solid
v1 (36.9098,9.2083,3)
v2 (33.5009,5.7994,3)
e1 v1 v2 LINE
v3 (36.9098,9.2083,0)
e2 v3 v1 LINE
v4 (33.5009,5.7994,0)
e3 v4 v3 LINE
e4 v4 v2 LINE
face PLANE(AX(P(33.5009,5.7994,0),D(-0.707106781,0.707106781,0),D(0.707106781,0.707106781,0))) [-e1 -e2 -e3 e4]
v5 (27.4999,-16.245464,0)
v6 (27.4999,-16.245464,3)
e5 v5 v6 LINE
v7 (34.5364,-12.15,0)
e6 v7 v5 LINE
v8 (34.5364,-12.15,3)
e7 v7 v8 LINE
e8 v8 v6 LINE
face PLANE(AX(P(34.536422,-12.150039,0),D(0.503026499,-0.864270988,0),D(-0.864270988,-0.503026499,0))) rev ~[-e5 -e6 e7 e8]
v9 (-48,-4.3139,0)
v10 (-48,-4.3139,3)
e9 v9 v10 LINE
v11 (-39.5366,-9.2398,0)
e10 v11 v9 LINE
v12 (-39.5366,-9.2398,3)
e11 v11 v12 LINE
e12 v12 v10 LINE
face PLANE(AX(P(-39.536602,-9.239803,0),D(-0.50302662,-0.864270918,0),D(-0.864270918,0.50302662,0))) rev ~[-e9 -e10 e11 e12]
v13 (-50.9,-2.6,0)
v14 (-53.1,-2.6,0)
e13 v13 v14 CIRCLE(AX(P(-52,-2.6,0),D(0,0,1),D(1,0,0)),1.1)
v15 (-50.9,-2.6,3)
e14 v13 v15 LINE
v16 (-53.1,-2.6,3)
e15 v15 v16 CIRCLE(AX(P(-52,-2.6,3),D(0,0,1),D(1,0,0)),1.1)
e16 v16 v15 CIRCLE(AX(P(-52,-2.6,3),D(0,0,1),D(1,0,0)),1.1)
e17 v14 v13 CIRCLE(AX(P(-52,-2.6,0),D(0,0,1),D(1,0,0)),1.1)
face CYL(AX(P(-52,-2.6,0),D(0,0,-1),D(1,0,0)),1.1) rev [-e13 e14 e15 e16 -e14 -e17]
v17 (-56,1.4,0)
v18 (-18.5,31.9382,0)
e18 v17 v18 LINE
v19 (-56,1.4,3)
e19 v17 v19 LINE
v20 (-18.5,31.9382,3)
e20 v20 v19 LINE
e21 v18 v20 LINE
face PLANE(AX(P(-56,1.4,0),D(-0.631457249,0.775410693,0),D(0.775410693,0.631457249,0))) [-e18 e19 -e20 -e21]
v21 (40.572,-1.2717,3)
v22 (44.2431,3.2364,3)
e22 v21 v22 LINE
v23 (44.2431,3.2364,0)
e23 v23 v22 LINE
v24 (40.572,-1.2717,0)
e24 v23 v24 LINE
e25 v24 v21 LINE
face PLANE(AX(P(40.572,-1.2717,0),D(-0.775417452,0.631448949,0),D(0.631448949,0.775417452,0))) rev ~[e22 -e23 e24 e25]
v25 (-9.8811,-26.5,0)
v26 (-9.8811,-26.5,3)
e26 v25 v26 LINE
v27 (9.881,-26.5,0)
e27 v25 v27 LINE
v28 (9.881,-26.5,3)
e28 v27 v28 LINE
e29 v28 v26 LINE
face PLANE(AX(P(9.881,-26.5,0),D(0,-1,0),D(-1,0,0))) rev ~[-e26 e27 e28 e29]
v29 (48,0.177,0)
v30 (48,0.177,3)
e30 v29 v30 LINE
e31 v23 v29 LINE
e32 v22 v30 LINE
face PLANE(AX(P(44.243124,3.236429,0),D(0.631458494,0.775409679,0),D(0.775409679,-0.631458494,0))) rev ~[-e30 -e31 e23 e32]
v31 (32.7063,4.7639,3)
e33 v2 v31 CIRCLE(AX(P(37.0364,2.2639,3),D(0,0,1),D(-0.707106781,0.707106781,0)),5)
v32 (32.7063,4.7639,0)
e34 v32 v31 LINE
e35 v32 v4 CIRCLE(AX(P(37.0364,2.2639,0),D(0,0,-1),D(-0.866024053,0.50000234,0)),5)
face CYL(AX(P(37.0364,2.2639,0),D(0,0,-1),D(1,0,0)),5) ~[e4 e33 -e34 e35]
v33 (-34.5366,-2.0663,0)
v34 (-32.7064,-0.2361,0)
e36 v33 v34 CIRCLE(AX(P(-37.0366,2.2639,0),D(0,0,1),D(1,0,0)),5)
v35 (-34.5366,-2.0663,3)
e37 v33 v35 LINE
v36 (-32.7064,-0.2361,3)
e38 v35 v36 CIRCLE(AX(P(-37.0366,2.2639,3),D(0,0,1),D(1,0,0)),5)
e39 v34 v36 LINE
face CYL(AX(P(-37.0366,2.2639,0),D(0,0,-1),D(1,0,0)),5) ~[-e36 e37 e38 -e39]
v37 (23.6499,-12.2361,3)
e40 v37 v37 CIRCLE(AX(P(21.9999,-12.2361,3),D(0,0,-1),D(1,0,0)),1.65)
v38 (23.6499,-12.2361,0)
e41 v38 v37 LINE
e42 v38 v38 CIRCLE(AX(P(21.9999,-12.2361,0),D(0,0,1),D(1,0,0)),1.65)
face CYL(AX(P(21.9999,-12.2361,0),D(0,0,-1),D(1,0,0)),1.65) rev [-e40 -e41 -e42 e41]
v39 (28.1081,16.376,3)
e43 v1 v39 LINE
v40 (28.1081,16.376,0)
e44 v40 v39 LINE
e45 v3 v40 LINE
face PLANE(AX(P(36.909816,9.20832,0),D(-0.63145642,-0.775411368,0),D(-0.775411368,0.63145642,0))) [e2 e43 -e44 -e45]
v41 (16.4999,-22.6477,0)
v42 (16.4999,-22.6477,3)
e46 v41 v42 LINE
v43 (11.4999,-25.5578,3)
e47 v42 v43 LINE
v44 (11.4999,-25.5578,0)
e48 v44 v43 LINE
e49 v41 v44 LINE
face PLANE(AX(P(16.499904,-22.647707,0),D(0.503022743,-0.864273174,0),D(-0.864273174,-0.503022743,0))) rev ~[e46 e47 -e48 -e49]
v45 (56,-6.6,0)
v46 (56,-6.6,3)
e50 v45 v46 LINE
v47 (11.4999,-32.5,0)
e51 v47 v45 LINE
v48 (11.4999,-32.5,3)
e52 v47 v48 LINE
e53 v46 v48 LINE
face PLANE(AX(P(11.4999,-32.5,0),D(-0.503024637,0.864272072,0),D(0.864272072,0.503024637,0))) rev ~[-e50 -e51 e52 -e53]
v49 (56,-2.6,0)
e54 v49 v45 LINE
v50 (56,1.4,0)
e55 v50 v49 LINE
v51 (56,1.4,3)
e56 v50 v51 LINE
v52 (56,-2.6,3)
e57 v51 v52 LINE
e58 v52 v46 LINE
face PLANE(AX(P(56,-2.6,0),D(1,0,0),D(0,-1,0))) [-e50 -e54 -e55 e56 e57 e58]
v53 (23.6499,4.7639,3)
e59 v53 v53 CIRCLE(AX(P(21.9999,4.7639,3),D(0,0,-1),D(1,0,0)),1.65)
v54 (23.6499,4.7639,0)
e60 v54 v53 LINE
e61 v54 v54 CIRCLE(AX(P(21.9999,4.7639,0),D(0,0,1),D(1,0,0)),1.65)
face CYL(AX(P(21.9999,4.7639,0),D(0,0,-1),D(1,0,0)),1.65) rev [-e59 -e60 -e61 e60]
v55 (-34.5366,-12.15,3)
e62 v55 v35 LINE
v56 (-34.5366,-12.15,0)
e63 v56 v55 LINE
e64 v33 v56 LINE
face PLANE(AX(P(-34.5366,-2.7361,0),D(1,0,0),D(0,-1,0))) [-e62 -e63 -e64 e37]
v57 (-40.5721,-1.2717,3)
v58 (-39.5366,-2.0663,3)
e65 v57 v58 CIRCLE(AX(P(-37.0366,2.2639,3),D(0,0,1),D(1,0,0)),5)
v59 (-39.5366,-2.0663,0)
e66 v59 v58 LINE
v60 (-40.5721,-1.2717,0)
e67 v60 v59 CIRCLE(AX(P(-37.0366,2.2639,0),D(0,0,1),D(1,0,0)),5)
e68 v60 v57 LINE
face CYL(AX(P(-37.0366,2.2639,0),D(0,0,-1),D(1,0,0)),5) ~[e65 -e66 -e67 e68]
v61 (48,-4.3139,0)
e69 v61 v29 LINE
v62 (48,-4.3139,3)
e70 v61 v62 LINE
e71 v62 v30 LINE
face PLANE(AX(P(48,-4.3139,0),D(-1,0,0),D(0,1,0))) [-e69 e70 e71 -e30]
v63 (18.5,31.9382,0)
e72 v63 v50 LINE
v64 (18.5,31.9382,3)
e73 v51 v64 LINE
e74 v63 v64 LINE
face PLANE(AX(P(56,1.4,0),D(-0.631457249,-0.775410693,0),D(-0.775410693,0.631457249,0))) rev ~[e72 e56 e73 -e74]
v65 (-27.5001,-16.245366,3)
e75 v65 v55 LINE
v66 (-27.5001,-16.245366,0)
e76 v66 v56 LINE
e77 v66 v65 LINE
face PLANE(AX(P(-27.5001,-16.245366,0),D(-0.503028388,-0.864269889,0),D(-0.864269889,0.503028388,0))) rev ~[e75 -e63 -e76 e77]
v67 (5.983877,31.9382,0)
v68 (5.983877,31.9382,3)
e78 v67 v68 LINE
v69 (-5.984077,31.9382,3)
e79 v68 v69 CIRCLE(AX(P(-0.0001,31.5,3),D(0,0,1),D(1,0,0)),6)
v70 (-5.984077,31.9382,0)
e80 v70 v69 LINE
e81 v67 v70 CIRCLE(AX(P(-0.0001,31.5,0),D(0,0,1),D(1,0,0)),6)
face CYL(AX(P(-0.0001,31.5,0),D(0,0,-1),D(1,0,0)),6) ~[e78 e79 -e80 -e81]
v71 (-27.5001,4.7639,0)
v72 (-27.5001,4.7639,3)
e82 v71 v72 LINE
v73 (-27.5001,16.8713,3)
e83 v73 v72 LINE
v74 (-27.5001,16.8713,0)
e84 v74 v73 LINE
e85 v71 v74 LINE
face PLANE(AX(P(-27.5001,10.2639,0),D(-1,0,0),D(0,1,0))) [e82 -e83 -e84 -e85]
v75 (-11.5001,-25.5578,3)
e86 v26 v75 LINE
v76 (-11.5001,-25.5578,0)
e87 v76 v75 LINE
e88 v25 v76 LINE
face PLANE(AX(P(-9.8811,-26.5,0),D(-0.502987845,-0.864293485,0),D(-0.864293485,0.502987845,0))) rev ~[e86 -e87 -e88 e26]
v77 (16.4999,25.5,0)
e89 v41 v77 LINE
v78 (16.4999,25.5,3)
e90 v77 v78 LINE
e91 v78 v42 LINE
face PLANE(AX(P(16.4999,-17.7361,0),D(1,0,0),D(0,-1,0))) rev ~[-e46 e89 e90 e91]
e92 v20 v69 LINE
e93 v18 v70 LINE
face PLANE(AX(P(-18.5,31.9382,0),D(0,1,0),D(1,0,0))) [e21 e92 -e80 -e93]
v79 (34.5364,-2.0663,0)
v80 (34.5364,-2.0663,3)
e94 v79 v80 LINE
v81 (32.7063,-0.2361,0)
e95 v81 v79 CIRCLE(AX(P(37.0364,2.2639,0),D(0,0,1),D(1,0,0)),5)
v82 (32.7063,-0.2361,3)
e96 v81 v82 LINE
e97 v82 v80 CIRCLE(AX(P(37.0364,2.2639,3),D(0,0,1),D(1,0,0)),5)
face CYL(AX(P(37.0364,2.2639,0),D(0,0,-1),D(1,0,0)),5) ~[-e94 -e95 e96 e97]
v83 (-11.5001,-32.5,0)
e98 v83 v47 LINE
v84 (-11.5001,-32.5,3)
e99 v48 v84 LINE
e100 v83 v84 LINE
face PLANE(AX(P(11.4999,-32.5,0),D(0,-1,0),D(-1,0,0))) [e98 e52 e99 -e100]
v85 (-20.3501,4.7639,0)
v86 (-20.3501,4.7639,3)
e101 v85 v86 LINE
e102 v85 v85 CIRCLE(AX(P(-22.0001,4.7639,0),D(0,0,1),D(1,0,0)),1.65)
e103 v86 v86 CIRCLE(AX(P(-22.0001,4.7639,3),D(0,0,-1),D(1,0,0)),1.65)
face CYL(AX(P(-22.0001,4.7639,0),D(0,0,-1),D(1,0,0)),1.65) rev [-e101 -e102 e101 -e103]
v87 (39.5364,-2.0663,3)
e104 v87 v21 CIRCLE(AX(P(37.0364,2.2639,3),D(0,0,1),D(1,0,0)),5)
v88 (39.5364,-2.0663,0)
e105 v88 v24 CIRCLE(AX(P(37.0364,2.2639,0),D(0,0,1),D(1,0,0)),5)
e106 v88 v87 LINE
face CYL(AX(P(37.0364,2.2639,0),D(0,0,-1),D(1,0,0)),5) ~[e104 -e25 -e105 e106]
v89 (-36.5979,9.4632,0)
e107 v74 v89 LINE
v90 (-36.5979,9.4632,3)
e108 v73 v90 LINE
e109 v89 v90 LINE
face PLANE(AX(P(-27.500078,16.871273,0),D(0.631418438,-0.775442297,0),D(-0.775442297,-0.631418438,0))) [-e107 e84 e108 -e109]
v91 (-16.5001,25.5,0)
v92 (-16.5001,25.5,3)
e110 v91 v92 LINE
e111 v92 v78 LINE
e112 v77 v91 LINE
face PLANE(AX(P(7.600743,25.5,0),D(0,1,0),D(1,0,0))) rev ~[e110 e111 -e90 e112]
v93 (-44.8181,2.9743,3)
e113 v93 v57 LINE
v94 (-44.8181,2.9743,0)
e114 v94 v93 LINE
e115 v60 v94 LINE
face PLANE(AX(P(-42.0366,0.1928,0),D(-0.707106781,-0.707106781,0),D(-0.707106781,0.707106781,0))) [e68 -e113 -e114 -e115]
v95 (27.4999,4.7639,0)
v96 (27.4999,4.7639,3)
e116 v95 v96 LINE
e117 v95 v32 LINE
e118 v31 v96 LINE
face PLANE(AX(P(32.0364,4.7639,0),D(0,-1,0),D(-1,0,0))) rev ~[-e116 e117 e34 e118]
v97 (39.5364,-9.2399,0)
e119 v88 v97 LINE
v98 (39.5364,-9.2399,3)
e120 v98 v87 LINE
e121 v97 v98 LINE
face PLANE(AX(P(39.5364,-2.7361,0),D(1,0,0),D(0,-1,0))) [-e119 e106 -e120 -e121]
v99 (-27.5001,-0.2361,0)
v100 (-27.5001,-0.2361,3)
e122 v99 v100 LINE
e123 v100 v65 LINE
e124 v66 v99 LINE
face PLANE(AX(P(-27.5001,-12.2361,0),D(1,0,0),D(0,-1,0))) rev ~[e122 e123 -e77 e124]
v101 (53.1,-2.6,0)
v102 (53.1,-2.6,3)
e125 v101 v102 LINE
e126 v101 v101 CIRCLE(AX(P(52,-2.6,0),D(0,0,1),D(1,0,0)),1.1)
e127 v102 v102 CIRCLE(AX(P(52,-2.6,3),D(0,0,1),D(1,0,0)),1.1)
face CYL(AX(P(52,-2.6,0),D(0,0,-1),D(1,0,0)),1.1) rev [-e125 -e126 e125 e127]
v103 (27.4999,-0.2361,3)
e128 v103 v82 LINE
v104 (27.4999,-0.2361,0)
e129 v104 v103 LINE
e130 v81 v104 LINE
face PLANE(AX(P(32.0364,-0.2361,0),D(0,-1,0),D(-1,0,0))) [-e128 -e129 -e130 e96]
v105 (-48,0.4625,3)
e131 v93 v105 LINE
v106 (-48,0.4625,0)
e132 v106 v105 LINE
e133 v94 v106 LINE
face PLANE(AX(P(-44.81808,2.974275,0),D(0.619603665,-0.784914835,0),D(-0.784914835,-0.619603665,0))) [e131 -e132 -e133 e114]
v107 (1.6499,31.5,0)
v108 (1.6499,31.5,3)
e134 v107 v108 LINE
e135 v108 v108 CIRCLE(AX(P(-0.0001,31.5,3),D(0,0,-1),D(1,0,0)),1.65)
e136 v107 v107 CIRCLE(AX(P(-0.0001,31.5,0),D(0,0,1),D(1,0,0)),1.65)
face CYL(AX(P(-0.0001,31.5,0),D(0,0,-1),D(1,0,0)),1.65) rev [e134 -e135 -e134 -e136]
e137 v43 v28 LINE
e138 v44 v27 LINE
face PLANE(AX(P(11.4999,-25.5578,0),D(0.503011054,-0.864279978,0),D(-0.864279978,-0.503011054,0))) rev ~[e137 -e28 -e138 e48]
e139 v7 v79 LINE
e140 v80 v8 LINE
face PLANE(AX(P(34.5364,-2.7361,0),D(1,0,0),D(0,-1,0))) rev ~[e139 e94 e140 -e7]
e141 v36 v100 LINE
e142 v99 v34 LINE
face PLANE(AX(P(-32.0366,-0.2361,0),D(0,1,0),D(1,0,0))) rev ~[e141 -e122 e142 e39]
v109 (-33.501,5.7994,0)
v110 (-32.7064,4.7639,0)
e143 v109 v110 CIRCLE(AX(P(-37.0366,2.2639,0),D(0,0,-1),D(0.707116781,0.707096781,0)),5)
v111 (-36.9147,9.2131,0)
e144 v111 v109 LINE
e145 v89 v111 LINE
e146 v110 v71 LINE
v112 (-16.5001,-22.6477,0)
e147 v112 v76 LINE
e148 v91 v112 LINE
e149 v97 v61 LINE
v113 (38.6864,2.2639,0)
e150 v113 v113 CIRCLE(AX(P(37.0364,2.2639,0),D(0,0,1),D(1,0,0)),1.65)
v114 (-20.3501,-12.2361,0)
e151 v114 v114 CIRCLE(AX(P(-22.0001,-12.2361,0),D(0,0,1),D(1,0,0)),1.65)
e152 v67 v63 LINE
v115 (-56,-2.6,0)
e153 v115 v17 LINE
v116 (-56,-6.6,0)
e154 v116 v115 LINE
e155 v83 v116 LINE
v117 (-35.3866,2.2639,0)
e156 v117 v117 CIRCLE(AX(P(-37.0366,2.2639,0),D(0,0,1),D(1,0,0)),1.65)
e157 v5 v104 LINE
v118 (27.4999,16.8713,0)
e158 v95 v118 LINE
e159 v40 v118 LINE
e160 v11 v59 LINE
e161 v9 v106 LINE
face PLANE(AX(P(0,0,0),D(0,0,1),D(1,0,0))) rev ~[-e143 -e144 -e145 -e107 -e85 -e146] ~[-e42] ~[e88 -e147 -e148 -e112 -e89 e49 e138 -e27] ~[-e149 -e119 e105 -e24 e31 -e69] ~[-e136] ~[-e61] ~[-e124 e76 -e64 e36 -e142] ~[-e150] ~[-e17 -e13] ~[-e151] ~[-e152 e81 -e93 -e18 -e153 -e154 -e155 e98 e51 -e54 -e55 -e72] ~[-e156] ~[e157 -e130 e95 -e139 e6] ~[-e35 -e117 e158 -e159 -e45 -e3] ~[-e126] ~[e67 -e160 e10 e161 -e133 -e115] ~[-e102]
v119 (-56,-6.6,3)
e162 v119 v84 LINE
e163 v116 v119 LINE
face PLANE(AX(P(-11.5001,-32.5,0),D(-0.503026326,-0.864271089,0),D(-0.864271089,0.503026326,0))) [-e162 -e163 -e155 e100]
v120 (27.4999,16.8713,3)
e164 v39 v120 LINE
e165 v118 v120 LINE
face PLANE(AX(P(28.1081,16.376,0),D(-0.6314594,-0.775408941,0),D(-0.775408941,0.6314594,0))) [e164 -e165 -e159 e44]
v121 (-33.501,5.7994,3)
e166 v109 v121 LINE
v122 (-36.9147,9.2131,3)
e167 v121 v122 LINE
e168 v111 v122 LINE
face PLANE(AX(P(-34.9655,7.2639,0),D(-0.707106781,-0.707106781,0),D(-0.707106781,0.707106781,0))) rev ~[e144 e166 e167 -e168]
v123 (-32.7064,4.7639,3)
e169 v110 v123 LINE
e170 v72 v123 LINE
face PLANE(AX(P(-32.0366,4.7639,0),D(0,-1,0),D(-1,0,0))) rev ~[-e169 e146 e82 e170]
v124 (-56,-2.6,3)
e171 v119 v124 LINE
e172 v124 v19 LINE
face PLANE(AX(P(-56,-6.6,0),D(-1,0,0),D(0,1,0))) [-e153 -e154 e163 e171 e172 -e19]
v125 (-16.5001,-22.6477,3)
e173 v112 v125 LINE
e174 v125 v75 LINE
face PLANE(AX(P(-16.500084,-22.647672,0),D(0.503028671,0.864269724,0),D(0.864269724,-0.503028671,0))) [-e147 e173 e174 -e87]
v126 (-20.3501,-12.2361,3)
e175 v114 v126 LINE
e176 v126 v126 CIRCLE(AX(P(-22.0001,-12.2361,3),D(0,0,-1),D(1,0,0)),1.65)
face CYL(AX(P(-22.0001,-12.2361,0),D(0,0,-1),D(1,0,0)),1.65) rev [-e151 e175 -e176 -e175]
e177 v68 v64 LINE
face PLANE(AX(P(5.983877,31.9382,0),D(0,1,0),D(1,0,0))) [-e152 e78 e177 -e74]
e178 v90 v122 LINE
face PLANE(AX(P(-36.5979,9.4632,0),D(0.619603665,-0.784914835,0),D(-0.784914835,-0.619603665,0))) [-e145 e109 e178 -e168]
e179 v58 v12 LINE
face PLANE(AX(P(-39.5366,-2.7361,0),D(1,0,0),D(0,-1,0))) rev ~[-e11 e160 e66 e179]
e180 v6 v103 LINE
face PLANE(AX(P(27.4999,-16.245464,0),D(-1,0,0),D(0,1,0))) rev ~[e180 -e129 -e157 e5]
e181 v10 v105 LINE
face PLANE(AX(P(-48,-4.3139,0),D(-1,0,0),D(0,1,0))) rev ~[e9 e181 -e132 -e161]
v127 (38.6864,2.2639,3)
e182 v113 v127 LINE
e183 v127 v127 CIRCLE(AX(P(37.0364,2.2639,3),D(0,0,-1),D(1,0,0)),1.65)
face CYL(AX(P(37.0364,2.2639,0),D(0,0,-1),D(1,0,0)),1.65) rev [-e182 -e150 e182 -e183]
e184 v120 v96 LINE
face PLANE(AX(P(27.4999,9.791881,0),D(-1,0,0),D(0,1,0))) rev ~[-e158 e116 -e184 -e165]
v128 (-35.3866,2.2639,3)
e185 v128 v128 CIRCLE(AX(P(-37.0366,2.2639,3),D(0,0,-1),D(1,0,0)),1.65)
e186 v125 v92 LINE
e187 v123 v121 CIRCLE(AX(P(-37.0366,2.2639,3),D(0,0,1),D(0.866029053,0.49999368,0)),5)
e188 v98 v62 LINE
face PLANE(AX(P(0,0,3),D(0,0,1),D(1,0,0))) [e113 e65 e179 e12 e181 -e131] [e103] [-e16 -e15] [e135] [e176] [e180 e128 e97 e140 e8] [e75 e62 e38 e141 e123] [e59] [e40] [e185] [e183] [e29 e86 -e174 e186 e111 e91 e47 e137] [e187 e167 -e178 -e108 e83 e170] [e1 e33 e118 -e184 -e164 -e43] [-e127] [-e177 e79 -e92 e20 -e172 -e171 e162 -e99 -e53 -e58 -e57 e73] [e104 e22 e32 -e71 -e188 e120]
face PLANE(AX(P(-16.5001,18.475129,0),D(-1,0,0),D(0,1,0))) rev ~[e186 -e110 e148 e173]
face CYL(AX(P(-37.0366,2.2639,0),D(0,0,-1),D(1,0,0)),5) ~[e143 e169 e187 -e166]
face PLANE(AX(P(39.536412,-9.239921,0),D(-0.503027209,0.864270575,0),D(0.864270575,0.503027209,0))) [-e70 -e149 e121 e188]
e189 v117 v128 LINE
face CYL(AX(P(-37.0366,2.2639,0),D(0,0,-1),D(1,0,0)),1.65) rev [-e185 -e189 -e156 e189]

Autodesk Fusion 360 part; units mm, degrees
sketch "Sketch1" plane through (0, 0, 0) normal (0, 0, 1) x (1, 0, 0)
  line L0 (-0.0001, 25.5) -> (-0.0001, 31.5)
  circle A0 centre (-0.0001, 31.5) radius 1.65
  circle A1 centre (-0.0001, 31.5) radius 6
  line L1 (37.0364, 2.2639) -> (-37.0366, 2.2639)
  circle A2 centre (37.0364, 2.2639) radius 1.65
  circle A3 centre (-37.0366, 2.2639) radius 1.65
  line L2 (-0.0001, 31.5) -> (37.0364, 2.2639)
  line L3 (-0.0001, 31.5) -> (-37.0366, 2.2639)
  line L4 (56, 1.4) -> (56, -6.6)
  line L5 (-56, -6.6) -> (-56, 1.4)
  line L6 (-18.5, 31.9382) -> (18.5, 31.9382)
  line L7 (11.4999, -32.5) -> (-11.5001, -32.5)
  line L8 (-11.5001, -32.5) -> (-56, -6.6)
  line L9 (11.4999, -32.5) -> (56, -6.6)
  line L10 (56, -2.6) -> (52, -2.6)
  circle A4 centre (52, -2.6) radius 1.1
  line L11 (-56, -2.6) -> (-52, -2.6)
  circle A5 centre (-52, -2.6) radius 1.1
  line L12 (-22.0001, 4.7639) -> (-22.0001, 2.2639)
  line L13 (-0.0001, 2.2639) -> (-22.0001, 2.2639)
  line L14 (-22.0001, 2.2639) -> (-22.0001, 4.7639)
  line L15 (-22.0001, 4.7639) -> (-0.0001, 4.7639)
  line L16 (-0.0001, 4.7639) -> (-0.0001, 2.2639)
  line L17 (-0.0001, 4.7639) -> (21.9999, 4.7639)
  line L18 (21.9999, 4.7639) -> (21.9999, 2.2639)
  line L19 (21.9999, 2.2639) -> (-0.0001, 2.2639)
  line L20 (-0.0001, 2.2639) -> (-0.0001, 4.7639)
  circle A6 centre (-22.0001, 4.7639) radius 1.65
  circle A7 centre (21.9999, 4.7639) radius 1.65
  line L21 (21.9999, 4.7639) -> (21.9999, -12.2361)
  line L22 (-22.0001, 4.7639) -> (-22.0001, -12.2361)
  circle A8 centre (21.9999, -12.2361) radius 1.65
  circle A9 centre (-22.0001, -12.2361) radius 1.65
  circle A10 centre (-22.0001, -12.2361) radius 5.5
  circle A11 centre (-22.0001, 4.7639) radius 5.5
  line L23 (-27.5001, -17.7361) -> (-16.5001, -17.7361)
  line L24 (-16.5001, -17.7361) -> (-16.5001, 10.2639)
  line L25 (-16.5001, 10.2639) -> (-27.5001, 10.2639)
  line L26 (-27.5001, 10.2639) -> (-27.5001, -17.7361)
  line L27 (27.4999, -17.7361) -> (27.4999, 10.2639)
  line L28 (27.4999, 10.2639) -> (16.4999, 10.2639)
  line L29 (16.4999, 10.2639) -> (16.4999, -17.7361)
  line L30 (16.4999, -17.7361) -> (27.4999, -17.7361)
  line L31 (56, -6.6) -> (48, -6.6)
  line L32 (48, -6.6) -> (48, 1.4)
  line L33 (48, 1.4) -> (56, 1.4)
  line L34 (56, 1.4) -> (56, -6.6)
  line L35 (-56, -6.6) -> (-48, -6.6)
  line L36 (-48, -6.6) -> (-48, 1.4)
  line L37 (-48, 1.4) -> (-56, 1.4)
  line L38 (-56, 1.4) -> (-56, -6.6)
  line L39 (-20.5229, -27.2485) -> (-17.5048, -22.0629)
  line L40 (-40.4384, -15.6572) -> (-37.4202, -10.4716)
  line L41 (-17.5048, -22.0629) -> (-37.4202, -10.4716)
  line L42 (-37.4202, -10.4716) -> (-48, -4.3139)
  line L43 (-17.5048, -22.0629) -> (-11.5001, -25.5578)
  line L44 (22.8887, -25.8715) -> (19.8706, -20.6859)
  line L45 (39.4309, -16.2436) -> (36.4127, -11.058)
  line L46 (36.4127, -11.058) -> (19.8706, -20.6859)
  line L47 (36.4127, -11.058) -> (48, -4.3139)
  line L48 (19.8706, -20.6859) -> (11.4999, -25.5578)
  line L49 (56, 1.4) -> (18.5, 31.9382)
  line L50 (45.76, 9.7389) -> (41.9713, 5.0865)
  line L51 (31.8969, 21.0284) -> (28.1081, 16.376)
  line L52 (41.9713, 5.0865) -> (28.1081, 16.376)
  line L53 (28.1081, 16.376) -> (15.6762, 26.5)
  line L54 (41.9713, 5.0865) -> (48, 0.177)
  circle A12 centre (37.0364, 2.2639) radius 5
  line L55 (32.0364, -2.7361) -> (42.0364, -2.7361)
  line L56 (42.0364, -2.7361) -> (42.0364, 7.2639)
  line L57 (42.0364, 7.2639) -> (32.0364, 7.2639)
  line L58 (32.0364, 7.2639) -> (32.0364, -2.7361)
  line L59 (42.0364, -2.7361) -> (37.0364, 2.2639)
  line L60 (32.0364, 7.2639) -> (37.0364, 2.2639)
  line L61 (40.572, -1.2717) -> (44.2431, 3.2364)
  line L62 (33.5009, 5.7994) -> (36.9098, 9.2083)
  line L63 (-56, 1.4) -> (-18.5, 31.9382)
  line L64 (-30.0227, 22.5547) -> (-26.234, 17.9022)
  line L65 (-40.3156, 14.1727) -> (-36.5979, 9.4632)
  line L66 (-26.234, 17.9022) -> (-36.5979, 9.4632)
  line L67 (-36.5979, 9.4632) -> (-48, 0.4625)
  line L68 (-26.234, 17.9022) -> (-15.6762, 26.5)
  line L69 (7.8699, -32.5) -> (7.8699, -26.5)
  line L70 (-4.112, -32.5) -> (-4.112, -26.5)
  line L71 (7.8699, -26.5) -> (-4.112, -26.5)
  line L72 (11.4999, -25.5578) -> (9.881, -26.5)
  line L73 (9.881, -26.5) -> (7.8699, -26.5)
  line L74 (-4.112, -26.5) -> (-9.8811, -26.5)
  line L75 (-9.8811, -26.5) -> (-11.5001, -25.5578)
  line L76 (16.4999, -17.7361) -> (16.4999, -22.6477)
  line L77 (-16.5001, -17.7361) -> (-16.5001, -22.6477)
  line L78 (27.4999, 10.2639) -> (27.4999, 16.8713)
  line L79 (-27.5001, 10.2639) -> (-27.5001, 16.8713)
  line L80 (-0.0001, 25.5) -> (16.9042, 25.5)
  line L81 (16.4999, 10.2639) -> (16.4999, 25.5)
  line L82 (-0.0001, 25.5) -> (-16.9042, 25.5)
  line L83 (-16.5001, 10.2639) -> (-16.5001, 25.5)
  line L84 (-42.0366, 7.2639) -> (-37.0366, 7.2639)
  line L85 (-37.0366, 7.2639) -> (-37.0366, 2.2639)
  line L86 (-32.0366, -2.7361) -> (-42.0366, -2.7361)
  line L87 (-42.0366, -2.7361) -> (-42.0366, 7.2639)
  line L88 (-42.0366, 7.2639) -> (-32.0366, 7.2639)
  line L89 (-32.0366, 7.2639) -> (-32.0366, -2.7361)
  line L90 (-32.0366, 7.2639) -> (-42.0366, -2.7361)
  circle A13 centre (-37.0366, 2.2639) radius 5
  line L91 (-33.501, 5.7994) -> (-36.9147, 9.2131)
  line L92 (-40.5721, -1.2717) -> (-44.8181, 2.9743)
  line L93 (37.0364, -2.7361) -> (34.5364, -2.7361)
  line L94 (37.0364, -2.7361) -> (39.5364, -2.7361)
  line L95 (39.5364, -2.7361) -> (39.5364, -9.2399)
  line L96 (39.5364, -2.7361) -> (39.5364, -2.0663)
  line L97 (34.5364, -2.7361) -> (34.5364, -2.0663)
  line L98 (34.5364, -2.7361) -> (34.5364, -12.15)
  line L99 (32.0364, 2.2639) -> (32.0364, 4.7639)
  line L100 (32.0364, 4.7639) -> (27.4999, 4.7639)
  line L101 (32.0364, 2.2639) -> (32.0364, -0.2361)
  line L102 (32.0364, -0.2361) -> (27.4999, -0.2361)
  line L103 (32.0364, -0.2361) -> (32.7063, -0.2361)
  line L104 (32.0364, 4.7639) -> (32.7063, 4.7639)
  line L105 (-32.0366, -0.2361) -> (-27.5001, -0.2361)
  line L106 (-32.0366, 4.7639) -> (-27.5001, 4.7639)
  line L107 (-32.0366, 4.7639) -> (-32.7064, 4.7639)
  line L108 (-32.0366, -0.2361) -> (-32.7064, -0.2361)
  line L109 (-37.0366, -2.7361) -> (-39.5366, -2.7361)
  line L110 (-37.0366, -2.7361) -> (-34.5366, -2.7361)
  line L111 (-34.5366, -2.7361) -> (-34.5366, -12.15)
  line L112 (-39.5366, -2.7361) -> (-39.5366, -9.2398)
  line L113 (23.6499, -12.2361) -> (20.3499, -12.2361)
  line L114 (20.3499, -12.2361) -> (20.3499, 4.7639)
  line L115 (20.3499, 4.7639) -> (23.6499, 4.7639)
  line L116 (23.6499, 4.7639) -> (23.6499, -12.2361)
  line L117 (-20.3501, -12.2361) -> (-23.6501, -12.2361)
  line L118 (-23.6501, -12.2361) -> (-23.6501, 4.7639)
  line L119 (-23.6501, 4.7639) -> (-20.3501, 4.7639)
  line L120 (-20.3501, 4.7639) -> (-20.3501, -12.2361)
  line L121 (-34.5366, -2.7361) -> (-34.5366, -2.0663)
  line L122 (-39.5366, -2.7361) -> (-39.5366, -2.0663)
  dimension "d3" = 6
  dimension "d4" = 3.3
  dimension "d5" = 12
  dimension "d20" = 3.3
  dimension "d21" = 3.3
  dimension "d24" = 112
  dimension "d25" = 8
  dimension "d26" = 37
  dimension "d30" = 2.2
  dimension "d31" = 4
  dimension "d32" = 4
  dimension "d33" = 2.2
  dimension "d36" = 22
  dimension "d37" = 2.5
  dimension "d38" = 22
  dimension "d39" = 2.5
  dimension "d41" = 3.3
  dimension "d42" = 3.3
  dimension "d58" = 17
  dimension "d59" = 17
  dimension "d60" = 3.3
  dimension "d61" = 3.3
  dimension "d62" = 11
  dimension "d63" = 11
  dimension "d64" = 8
  dimension "d65" = 8
  dimension "d66" = 6
  dimension "d67" = 6
  dimension "d68" = 6
  dimension "d69" = 6
  dimension "d70" = 6
  dimension "d71" = 6
  dimension "d72" = 10
  dimension "d73" = 6
  dimension "d74" = 6
  dimension "d75" = 6
  dimension "d76" = 6
  dimension "d79" = 5
  dimension "d82" = 10
  dimension "d83" = 2.5
  dimension "d84" = 2.5
  dimension "d85" = 2.5
  dimension "d86" = 2.5
  dimension "d87" = 2.5
  dimension "d88" = 2.5
sketch "Sketch1 (2)" plane through (0, 0, 0) normal (0, 0, 1) x (1, 0, 0) in component "carBodyServoPlate"
  line L0 (11.4999, -32.5) -> (-11.5001, -32.5)
  line L1 (-32.0366, -0.2361) -> (-27.5001, -0.2361)
  line L2 (-26.234, 17.9022) -> (-15.6762, 26.5)
  line L3 (-37.0366, 7.2639) -> (-37.0366, 2.2639)
  line L4 (-48, 1.4) -> (-56, 1.4)
  line L5 (-22.0001, 2.2639) -> (-22.0001, 4.7639)
  line L6 (-40.3156, 14.1727) -> (-36.5979, 9.4632)
  circle A0 centre (-22.0001, 4.7639) radius 1.65
  line L7 (-0.0001, 25.5) -> (-16.9042, 25.5)
  line L8 (-32.0366, 4.7639) -> (-32.7064, 4.7639)
  line L9 (-56, 1.4) -> (-18.5, 31.9382)
  line L10 (-0.0001, 4.7639) -> (21.9999, 4.7639)
  circle A1 centre (-37.0366, 2.2639) radius 1.65
  line L11 (-32.0366, 4.7639) -> (-27.5001, 4.7639)
  line L12 (-42.0366, 7.2639) -> (-32.0366, 7.2639)
  line L13 (-36.5979, 9.4632) -> (-48, 0.4625)
  line L14 (-32.0366, -0.2361) -> (-32.7064, -0.2361)
  line L15 (27.4999, 10.2639) -> (27.4999, 16.8713)
  line L16 (37.0364, -2.7361) -> (34.5364, -2.7361)
  line L17 (39.4309, -16.2436) -> (36.4127, -11.058)
  line L18 (16.4999, -17.7361) -> (16.4999, -22.6477)
  line L19 (32.0364, 2.2639) -> (32.0364, 4.7639)
  line L20 (-34.5366, -2.7361) -> (-34.5366, -2.0663)
  line L21 (32.0364, 2.2639) -> (32.0364, -0.2361)
  line L22 (28.1081, 16.376) -> (15.6762, 26.5)
  circle A2 centre (-22.0001, -12.2361) radius 5.5
  line L23 (-40.4384, -15.6572) -> (-37.4202, -10.4716)
  line L24 (32.0364, -2.7361) -> (42.0364, -2.7361)
  line L25 (45.76, 9.7389) -> (41.9713, 5.0865)
  line L26 (31.8969, 21.0284) -> (28.1081, 16.376)
  line L27 (-34.5366, -2.7361) -> (-34.5366, -12.15)
  line L28 (42.0364, 7.2639) -> (32.0364, 7.2639)
  line L29 (-27.5001, -17.7361) -> (-16.5001, -17.7361)
  line L30 (-4.112, -26.5) -> (-9.8811, -26.5)
  line L31 (27.4999, 10.2639) -> (16.4999, 10.2639)
  line L32 (-20.5229, -27.2485) -> (-17.5048, -22.0629)
  line L33 (-20.3501, -12.2361) -> (-23.6501, -12.2361)
  line L34 (32.0364, 4.7639) -> (27.4999, 4.7639)
  line L35 (39.5364, -2.7361) -> (39.5364, -9.2399)
  circle A3 centre (-52, -2.6) radius 1.1
  circle A4 centre (-22.0001, -12.2361) radius 1.65
  line L36 (32.0364, -0.2361) -> (32.7063, -0.2361)
  line L37 (32.0364, 7.2639) -> (37.0364, 2.2639)
  line L38 (39.5364, -2.7361) -> (39.5364, -2.0663)
  line L39 (7.8699, -32.5) -> (7.8699, -26.5)
  line L40 (-16.5001, -17.7361) -> (-16.5001, -22.6477)
  line L41 (11.4999, -25.5578) -> (9.881, -26.5)
  line L42 (36.4127, -11.058) -> (48, -4.3139)
  line L43 (36.4127, -11.058) -> (19.8706, -20.6859)
  circle A5 centre (21.9999, 4.7639) radius 1.65
  line L44 (-56, -2.6) -> (-52, -2.6)
  circle A6 centre (52, -2.6) radius 1.1
  line L45 (-4.112, -32.5) -> (-4.112, -26.5)
  line L46 (32.0364, 4.7639) -> (32.7063, 4.7639)
  circle A7 centre (37.0364, 2.2639) radius 1.65
  line L47 (34.5364, -2.7361) -> (34.5364, -12.15)
  line L48 (20.3499, 4.7639) -> (23.6499, 4.7639)
  line L49 (-39.5366, -2.7361) -> (-39.5366, -9.2398)
  line L50 (33.5009, 5.7994) -> (36.9098, 9.2083)
  line L51 (23.6499, -12.2361) -> (20.3499, -12.2361)
  line L52 (41.9713, 5.0865) -> (28.1081, 16.376)
  line L53 (-32.0366, 7.2639) -> (-42.0366, -2.7361)
  line L54 (-37.0366, -2.7361) -> (-39.5366, -2.7361)
  line L55 (41.9713, 5.0865) -> (48, 0.177)
  line L56 (-11.5001, -32.5) -> (-56, -6.6)
  line L57 (22.8887, -25.8715) -> (19.8706, -20.6859)
  line L58 (-20.3501, 4.7639) -> (-20.3501, -12.2361)
  line L59 (-23.6501, -12.2361) -> (-23.6501, 4.7639)
  line L60 (-9.8811, -26.5) -> (-11.5001, -25.5578)
  line L61 (-22.0001, 4.7639) -> (-22.0001, -12.2361)
  line L62 (21.9999, 4.7639) -> (21.9999, -12.2361)
  line L63 (-56, -6.6) -> (-56, 1.4)
  line L64 (20.3499, -12.2361) -> (20.3499, 4.7639)
  line L65 (56, 1.4) -> (56, -6.6)
  line L66 (-40.5721, -1.2717) -> (-44.8181, 2.9743)
  line L67 (42.0364, -2.7361) -> (42.0364, 7.2639)
  line L68 (42.0364, -2.7361) -> (37.0364, 2.2639)
  line L69 (-56, 1.4) -> (-56, -6.6)
  line L70 (-32.0366, -2.7361) -> (-42.0366, -2.7361)
  line L71 (-39.5366, -2.7361) -> (-39.5366, -2.0663)
  line L72 (56, 1.4) -> (56, -6.6)
  line L73 (16.4999, -17.7361) -> (27.4999, -17.7361)
  line L74 (-17.5048, -22.0629) -> (-11.5001, -25.5578)
  circle A8 centre (-37.0366, 2.2639) radius 5
  line L75 (56, 1.4) -> (18.5, 31.9382)
  line L76 (-27.5001, 10.2639) -> (-27.5001, -17.7361)
  line L77 (-56, -6.6) -> (-48, -6.6)
  line L78 (-0.0001, 4.7639) -> (-0.0001, 2.2639)
  line L79 (16.4999, 10.2639) -> (16.4999, 25.5)
  line L80 (27.4999, -17.7361) -> (27.4999, 10.2639)
  line L81 (32.0364, 7.2639) -> (32.0364, -2.7361)
  line L82 (-37.4202, -10.4716) -> (-48, -4.3139)
  line L83 (-37.0366, -2.7361) -> (-34.5366, -2.7361)
  line L84 (21.9999, 4.7639) -> (21.9999, 2.2639)
  line L85 (56, -6.6) -> (48, -6.6)
  line L86 (-16.5001, -17.7361) -> (-16.5001, 10.2639)
  line L87 (48, -6.6) -> (48, 1.4)
  line L88 (-17.5048, -22.0629) -> (-37.4202, -10.4716)
  line L89 (-27.5001, 10.2639) -> (-27.5001, 16.8713)
  line L90 (21.9999, 2.2639) -> (-0.0001, 2.2639)
  line L91 (-22.0001, 4.7639) -> (-22.0001, 2.2639)
  line L92 (-23.6501, 4.7639) -> (-20.3501, 4.7639)
  line L93 (-0.0001, 25.5) -> (16.9042, 25.5)
  line L94 (-16.5001, 10.2639) -> (-16.5001, 25.5)
  line L95 (-18.5, 31.9382) -> (18.5, 31.9382)
  line L96 (19.8706, -20.6859) -> (11.4999, -25.5578)
  line L97 (48, 1.4) -> (56, 1.4)
  line L98 (37.0364, -2.7361) -> (39.5364, -2.7361)
  line L99 (11.4999, -32.5) -> (56, -6.6)
  line L100 (40.572, -1.2717) -> (44.2431, 3.2364)
  circle A9 centre (21.9999, -12.2361) radius 1.65
  line L101 (32.0364, -0.2361) -> (27.4999, -0.2361)
  line L102 (34.5364, -2.7361) -> (34.5364, -2.0663)
  line L103 (9.881, -26.5) -> (7.8699, -26.5)
  line L104 (56, -2.6) -> (52, -2.6)
  line L105 (-0.0001, 2.2639) -> (-0.0001, 4.7639)
  line L106 (-26.234, 17.9022) -> (-36.5979, 9.4632)
  line L107 (-0.0001, 25.5) -> (-0.0001, 31.5)
  circle A10 centre (-0.0001, 31.5) radius 1.65
  line L108 (-33.501, 5.7994) -> (-36.9147, 9.2131)
  line L109 (7.8699, -26.5) -> (-4.112, -26.5)
  line L110 (-30.0227, 22.5547) -> (-26.234, 17.9022)
  line L111 (-32.0366, 7.2639) -> (-32.0366, -2.7361)
  line L112 (-22.0001, 4.7639) -> (-0.0001, 4.7639)
  line L113 (-16.5001, 10.2639) -> (-27.5001, 10.2639)
  line L114 (-42.0366, 7.2639) -> (-37.0366, 7.2639)
  circle A11 centre (-0.0001, 31.5) radius 6
  line L115 (-48, -6.6) -> (-48, 1.4)
  line L116 (37.0364, 2.2639) -> (-37.0366, 2.2639)
  line L117 (-42.0366, -2.7361) -> (-42.0366, 7.2639)
  circle A12 centre (-22.0001, 4.7639) radius 5.5
  line L118 (-0.0001, 31.5) -> (-37.0366, 2.2639)
  line L119 (-0.0001, 31.5) -> (37.0364, 2.2639)
  line L120 (23.6499, 4.7639) -> (23.6499, -12.2361)
  line L121 (-0.0001, 2.2639) -> (-22.0001, 2.2639)
  line L122 (16.4999, 10.2639) -> (16.4999, -17.7361)
  circle A13 centre (37.0364, 2.2639) radius 5
  dimension "d93" = 6
  dimension "d94" = 3.3
  dimension "d95" = 12
  dimension "d96" = 3.3
  dimension "d97" = 3.3
  dimension "d98" = 112
  dimension "d99" = 8
  dimension "d100" = 37
  dimension "d101" = 2.2
  dimension "d102" = 4
  dimension "d103" = 4
  dimension "d104" = 2.2
  dimension "d105" = 22
  dimension "d106" = 2.5
  dimension "d107" = 22
  dimension "d108" = 2.5
  dimension "d109" = 3.3
  dimension "d110" = 3.3
  dimension "d111" = 17
  dimension "d112" = 17
  dimension "d113" = 3.3
  dimension "d114" = 3.3
  dimension "d115" = 11
  dimension "d116" = 11
  dimension "d117" = 8
  dimension "d118" = 8
  dimension "d119" = 6
  dimension "d120" = 6
  dimension "d121" = 6
  dimension "d122" = 6
  dimension "d123" = 6
  dimension "d124" = 6
  dimension "d125" = 10
  dimension "d126" = 6
  dimension "d127" = 6
  dimension "d128" = 6
  dimension "d129" = 6
  dimension "d130" = 5
  dimension "d131" = 10
  dimension "d132" = 2.5
  dimension "d133" = 2.5
  dimension "d134" = 2.5
  dimension "d135" = 2.5
  dimension "d136" = 2.5
  dimension "d137" = 2.5
extrude "Extrude2" add sketch "Sketch1 (2)" along normal blind 3 contours L0 L39 L41 L57 L96 L99 L103 | L0 L39 L45 L109 | L17 L43 L57 L73 L80 L99 | L0 L30 L32 L45 L56 L60 L74 | L18 L43 L73 L96 | L17 L42 L85 L87 L99 | L43 L64 L73 L80 L90 A9 L116 L120 L122 | L43 L73 L80 | L16 L24 L35 L42 L43 L47 L98 | L65 L72 L85 L87 L97 | L23 L29 L32 L56 L76 L88 | L29 L40 L74 L88 | L23 L56 L77 L82 L115 | L21 L80 L81 L101 L116 | L10 L64 L90 L116 L122 | L24 L38 L98 A13 | L16 L24 L102 A13 | L25 L55 L67 L75 L87 L97 | A2 L29 L76 L88 | L29 L76 L88 | L27 L49 L54 L70 L82 L83 L88 | L4 L63 L69 L77 L115 | L10 L31 A5 L80 L116 L119 L120 L122 | L19 L34 L80 L81 L116 | L21 L36 L81 A13 | A7 L68 L116 A13 | L25 L26 L28 L52 L67 L75 | A2 L29 L86 | A2 A4 L58 L59 | A7 L116 L119 A13 | L19 L46 L81 A13 | L86 L116 A12 L121 | A2 L58 L86 L116 A12 L121 | L31 L79 L119 | L67 L100 A13 | L55 L67 L100 | L37 A7 L68 L100 A13 | L25 L55 L67 | L25 L28 L52 L67 | L22 L26 L75 L93 L95 A11 L119 | A2 L59 L76 L116 A12 | L54 L70 L71 A8 | L20 L70 A8 L83 | L4 L6 L9 L12 L13 L114 L115 L117 | L86 L113 A12 | L58 L112 L116 A12 L121 | A0 L59 L112 L116 A12 | L58 L116 A12 L121 | L15 L22 L31 L79 L93 L119 | L28 L52 L55 L67 A13 | L1 L76 L111 L116 | A1 L53 A8 L116 | L6 L9 L106 L110 | L37 A7 L119 A13 | L94 L113 L118 | L76 L113 A12 L118 | L93 A11 L119 | L28 L50 L52 | L28 L50 A13 | L95 A10 A11 L119 | L95 A10 A11 | L59 L116 A12 | L14 A8 L111 | L11 L76 L111 L116 | L76 L116 A12 | L3 A1 L53 A8 | L66 A8 L117 | L13 L66 L117 | L2 L7 L9 L95 L110 A11 L118 | L2 L7 L89 L94 L106 L113 L118 | L7 L94 L118 | L76 L113 L118 | L107 A10 A11 L118 | L7 A11 L118 | L107 A10 A11 L119 | L95 A10 A11 L118 | A1 A8 L116 L118 | L8 A8 L111 | L12 L13 A8 L114 L117 | L12 L13 L114 L117 | L12 L13 L108 L114 | L3 A1 L53 A8 | L12 A8 L108 | A1 L53 A8 L118 in component "carBodyServoPlate"
extrude "Extrude3" cut sketch "Sketch1 (2)" along normal blind 3 contours L7 L94 L118 in component "carBodyServoPlate"
extrude "Extrude5" add sketch "Sketch1 (2)" along normal blind 3 contours L31 L80 L119 in component "carBodyServoPlate"
extrude "Extrude6" add sketch "Sketch1 (2)" along normal blind 3 contours L62 L64 L90 A9 L116 | L62 A9 L116 L120 | A2 A4 L58 L61 | A2 L58 L61 A12 | A2 L59 L61 A12 | A2 A4 L59 L61 | L58 L61 L116 A12 L121 | L59 L61 L116 A12 in component "carBodyServoPlate"
extrude "Extrude7" add sketch "Sketch1 (2)" along normal blind 3 contours A5 L62 L64 L84 L90 L116 | A5 L62 L84 L116 L120 in component "carBodyServoPlate"
extrude "Extrude8" add sketch "Sketch1 (2)" along normal blind 3 contours L5 A0 L58 L61 L91 L116 L121 | L5 A0 L59 L61 L91 L116 in component "carBodyServoPlate"
component "carBodyServoPlate" placed x (1, 0, 0) y (0, 1, 0) z (0, 0, 1) at (0, 0, 0)
